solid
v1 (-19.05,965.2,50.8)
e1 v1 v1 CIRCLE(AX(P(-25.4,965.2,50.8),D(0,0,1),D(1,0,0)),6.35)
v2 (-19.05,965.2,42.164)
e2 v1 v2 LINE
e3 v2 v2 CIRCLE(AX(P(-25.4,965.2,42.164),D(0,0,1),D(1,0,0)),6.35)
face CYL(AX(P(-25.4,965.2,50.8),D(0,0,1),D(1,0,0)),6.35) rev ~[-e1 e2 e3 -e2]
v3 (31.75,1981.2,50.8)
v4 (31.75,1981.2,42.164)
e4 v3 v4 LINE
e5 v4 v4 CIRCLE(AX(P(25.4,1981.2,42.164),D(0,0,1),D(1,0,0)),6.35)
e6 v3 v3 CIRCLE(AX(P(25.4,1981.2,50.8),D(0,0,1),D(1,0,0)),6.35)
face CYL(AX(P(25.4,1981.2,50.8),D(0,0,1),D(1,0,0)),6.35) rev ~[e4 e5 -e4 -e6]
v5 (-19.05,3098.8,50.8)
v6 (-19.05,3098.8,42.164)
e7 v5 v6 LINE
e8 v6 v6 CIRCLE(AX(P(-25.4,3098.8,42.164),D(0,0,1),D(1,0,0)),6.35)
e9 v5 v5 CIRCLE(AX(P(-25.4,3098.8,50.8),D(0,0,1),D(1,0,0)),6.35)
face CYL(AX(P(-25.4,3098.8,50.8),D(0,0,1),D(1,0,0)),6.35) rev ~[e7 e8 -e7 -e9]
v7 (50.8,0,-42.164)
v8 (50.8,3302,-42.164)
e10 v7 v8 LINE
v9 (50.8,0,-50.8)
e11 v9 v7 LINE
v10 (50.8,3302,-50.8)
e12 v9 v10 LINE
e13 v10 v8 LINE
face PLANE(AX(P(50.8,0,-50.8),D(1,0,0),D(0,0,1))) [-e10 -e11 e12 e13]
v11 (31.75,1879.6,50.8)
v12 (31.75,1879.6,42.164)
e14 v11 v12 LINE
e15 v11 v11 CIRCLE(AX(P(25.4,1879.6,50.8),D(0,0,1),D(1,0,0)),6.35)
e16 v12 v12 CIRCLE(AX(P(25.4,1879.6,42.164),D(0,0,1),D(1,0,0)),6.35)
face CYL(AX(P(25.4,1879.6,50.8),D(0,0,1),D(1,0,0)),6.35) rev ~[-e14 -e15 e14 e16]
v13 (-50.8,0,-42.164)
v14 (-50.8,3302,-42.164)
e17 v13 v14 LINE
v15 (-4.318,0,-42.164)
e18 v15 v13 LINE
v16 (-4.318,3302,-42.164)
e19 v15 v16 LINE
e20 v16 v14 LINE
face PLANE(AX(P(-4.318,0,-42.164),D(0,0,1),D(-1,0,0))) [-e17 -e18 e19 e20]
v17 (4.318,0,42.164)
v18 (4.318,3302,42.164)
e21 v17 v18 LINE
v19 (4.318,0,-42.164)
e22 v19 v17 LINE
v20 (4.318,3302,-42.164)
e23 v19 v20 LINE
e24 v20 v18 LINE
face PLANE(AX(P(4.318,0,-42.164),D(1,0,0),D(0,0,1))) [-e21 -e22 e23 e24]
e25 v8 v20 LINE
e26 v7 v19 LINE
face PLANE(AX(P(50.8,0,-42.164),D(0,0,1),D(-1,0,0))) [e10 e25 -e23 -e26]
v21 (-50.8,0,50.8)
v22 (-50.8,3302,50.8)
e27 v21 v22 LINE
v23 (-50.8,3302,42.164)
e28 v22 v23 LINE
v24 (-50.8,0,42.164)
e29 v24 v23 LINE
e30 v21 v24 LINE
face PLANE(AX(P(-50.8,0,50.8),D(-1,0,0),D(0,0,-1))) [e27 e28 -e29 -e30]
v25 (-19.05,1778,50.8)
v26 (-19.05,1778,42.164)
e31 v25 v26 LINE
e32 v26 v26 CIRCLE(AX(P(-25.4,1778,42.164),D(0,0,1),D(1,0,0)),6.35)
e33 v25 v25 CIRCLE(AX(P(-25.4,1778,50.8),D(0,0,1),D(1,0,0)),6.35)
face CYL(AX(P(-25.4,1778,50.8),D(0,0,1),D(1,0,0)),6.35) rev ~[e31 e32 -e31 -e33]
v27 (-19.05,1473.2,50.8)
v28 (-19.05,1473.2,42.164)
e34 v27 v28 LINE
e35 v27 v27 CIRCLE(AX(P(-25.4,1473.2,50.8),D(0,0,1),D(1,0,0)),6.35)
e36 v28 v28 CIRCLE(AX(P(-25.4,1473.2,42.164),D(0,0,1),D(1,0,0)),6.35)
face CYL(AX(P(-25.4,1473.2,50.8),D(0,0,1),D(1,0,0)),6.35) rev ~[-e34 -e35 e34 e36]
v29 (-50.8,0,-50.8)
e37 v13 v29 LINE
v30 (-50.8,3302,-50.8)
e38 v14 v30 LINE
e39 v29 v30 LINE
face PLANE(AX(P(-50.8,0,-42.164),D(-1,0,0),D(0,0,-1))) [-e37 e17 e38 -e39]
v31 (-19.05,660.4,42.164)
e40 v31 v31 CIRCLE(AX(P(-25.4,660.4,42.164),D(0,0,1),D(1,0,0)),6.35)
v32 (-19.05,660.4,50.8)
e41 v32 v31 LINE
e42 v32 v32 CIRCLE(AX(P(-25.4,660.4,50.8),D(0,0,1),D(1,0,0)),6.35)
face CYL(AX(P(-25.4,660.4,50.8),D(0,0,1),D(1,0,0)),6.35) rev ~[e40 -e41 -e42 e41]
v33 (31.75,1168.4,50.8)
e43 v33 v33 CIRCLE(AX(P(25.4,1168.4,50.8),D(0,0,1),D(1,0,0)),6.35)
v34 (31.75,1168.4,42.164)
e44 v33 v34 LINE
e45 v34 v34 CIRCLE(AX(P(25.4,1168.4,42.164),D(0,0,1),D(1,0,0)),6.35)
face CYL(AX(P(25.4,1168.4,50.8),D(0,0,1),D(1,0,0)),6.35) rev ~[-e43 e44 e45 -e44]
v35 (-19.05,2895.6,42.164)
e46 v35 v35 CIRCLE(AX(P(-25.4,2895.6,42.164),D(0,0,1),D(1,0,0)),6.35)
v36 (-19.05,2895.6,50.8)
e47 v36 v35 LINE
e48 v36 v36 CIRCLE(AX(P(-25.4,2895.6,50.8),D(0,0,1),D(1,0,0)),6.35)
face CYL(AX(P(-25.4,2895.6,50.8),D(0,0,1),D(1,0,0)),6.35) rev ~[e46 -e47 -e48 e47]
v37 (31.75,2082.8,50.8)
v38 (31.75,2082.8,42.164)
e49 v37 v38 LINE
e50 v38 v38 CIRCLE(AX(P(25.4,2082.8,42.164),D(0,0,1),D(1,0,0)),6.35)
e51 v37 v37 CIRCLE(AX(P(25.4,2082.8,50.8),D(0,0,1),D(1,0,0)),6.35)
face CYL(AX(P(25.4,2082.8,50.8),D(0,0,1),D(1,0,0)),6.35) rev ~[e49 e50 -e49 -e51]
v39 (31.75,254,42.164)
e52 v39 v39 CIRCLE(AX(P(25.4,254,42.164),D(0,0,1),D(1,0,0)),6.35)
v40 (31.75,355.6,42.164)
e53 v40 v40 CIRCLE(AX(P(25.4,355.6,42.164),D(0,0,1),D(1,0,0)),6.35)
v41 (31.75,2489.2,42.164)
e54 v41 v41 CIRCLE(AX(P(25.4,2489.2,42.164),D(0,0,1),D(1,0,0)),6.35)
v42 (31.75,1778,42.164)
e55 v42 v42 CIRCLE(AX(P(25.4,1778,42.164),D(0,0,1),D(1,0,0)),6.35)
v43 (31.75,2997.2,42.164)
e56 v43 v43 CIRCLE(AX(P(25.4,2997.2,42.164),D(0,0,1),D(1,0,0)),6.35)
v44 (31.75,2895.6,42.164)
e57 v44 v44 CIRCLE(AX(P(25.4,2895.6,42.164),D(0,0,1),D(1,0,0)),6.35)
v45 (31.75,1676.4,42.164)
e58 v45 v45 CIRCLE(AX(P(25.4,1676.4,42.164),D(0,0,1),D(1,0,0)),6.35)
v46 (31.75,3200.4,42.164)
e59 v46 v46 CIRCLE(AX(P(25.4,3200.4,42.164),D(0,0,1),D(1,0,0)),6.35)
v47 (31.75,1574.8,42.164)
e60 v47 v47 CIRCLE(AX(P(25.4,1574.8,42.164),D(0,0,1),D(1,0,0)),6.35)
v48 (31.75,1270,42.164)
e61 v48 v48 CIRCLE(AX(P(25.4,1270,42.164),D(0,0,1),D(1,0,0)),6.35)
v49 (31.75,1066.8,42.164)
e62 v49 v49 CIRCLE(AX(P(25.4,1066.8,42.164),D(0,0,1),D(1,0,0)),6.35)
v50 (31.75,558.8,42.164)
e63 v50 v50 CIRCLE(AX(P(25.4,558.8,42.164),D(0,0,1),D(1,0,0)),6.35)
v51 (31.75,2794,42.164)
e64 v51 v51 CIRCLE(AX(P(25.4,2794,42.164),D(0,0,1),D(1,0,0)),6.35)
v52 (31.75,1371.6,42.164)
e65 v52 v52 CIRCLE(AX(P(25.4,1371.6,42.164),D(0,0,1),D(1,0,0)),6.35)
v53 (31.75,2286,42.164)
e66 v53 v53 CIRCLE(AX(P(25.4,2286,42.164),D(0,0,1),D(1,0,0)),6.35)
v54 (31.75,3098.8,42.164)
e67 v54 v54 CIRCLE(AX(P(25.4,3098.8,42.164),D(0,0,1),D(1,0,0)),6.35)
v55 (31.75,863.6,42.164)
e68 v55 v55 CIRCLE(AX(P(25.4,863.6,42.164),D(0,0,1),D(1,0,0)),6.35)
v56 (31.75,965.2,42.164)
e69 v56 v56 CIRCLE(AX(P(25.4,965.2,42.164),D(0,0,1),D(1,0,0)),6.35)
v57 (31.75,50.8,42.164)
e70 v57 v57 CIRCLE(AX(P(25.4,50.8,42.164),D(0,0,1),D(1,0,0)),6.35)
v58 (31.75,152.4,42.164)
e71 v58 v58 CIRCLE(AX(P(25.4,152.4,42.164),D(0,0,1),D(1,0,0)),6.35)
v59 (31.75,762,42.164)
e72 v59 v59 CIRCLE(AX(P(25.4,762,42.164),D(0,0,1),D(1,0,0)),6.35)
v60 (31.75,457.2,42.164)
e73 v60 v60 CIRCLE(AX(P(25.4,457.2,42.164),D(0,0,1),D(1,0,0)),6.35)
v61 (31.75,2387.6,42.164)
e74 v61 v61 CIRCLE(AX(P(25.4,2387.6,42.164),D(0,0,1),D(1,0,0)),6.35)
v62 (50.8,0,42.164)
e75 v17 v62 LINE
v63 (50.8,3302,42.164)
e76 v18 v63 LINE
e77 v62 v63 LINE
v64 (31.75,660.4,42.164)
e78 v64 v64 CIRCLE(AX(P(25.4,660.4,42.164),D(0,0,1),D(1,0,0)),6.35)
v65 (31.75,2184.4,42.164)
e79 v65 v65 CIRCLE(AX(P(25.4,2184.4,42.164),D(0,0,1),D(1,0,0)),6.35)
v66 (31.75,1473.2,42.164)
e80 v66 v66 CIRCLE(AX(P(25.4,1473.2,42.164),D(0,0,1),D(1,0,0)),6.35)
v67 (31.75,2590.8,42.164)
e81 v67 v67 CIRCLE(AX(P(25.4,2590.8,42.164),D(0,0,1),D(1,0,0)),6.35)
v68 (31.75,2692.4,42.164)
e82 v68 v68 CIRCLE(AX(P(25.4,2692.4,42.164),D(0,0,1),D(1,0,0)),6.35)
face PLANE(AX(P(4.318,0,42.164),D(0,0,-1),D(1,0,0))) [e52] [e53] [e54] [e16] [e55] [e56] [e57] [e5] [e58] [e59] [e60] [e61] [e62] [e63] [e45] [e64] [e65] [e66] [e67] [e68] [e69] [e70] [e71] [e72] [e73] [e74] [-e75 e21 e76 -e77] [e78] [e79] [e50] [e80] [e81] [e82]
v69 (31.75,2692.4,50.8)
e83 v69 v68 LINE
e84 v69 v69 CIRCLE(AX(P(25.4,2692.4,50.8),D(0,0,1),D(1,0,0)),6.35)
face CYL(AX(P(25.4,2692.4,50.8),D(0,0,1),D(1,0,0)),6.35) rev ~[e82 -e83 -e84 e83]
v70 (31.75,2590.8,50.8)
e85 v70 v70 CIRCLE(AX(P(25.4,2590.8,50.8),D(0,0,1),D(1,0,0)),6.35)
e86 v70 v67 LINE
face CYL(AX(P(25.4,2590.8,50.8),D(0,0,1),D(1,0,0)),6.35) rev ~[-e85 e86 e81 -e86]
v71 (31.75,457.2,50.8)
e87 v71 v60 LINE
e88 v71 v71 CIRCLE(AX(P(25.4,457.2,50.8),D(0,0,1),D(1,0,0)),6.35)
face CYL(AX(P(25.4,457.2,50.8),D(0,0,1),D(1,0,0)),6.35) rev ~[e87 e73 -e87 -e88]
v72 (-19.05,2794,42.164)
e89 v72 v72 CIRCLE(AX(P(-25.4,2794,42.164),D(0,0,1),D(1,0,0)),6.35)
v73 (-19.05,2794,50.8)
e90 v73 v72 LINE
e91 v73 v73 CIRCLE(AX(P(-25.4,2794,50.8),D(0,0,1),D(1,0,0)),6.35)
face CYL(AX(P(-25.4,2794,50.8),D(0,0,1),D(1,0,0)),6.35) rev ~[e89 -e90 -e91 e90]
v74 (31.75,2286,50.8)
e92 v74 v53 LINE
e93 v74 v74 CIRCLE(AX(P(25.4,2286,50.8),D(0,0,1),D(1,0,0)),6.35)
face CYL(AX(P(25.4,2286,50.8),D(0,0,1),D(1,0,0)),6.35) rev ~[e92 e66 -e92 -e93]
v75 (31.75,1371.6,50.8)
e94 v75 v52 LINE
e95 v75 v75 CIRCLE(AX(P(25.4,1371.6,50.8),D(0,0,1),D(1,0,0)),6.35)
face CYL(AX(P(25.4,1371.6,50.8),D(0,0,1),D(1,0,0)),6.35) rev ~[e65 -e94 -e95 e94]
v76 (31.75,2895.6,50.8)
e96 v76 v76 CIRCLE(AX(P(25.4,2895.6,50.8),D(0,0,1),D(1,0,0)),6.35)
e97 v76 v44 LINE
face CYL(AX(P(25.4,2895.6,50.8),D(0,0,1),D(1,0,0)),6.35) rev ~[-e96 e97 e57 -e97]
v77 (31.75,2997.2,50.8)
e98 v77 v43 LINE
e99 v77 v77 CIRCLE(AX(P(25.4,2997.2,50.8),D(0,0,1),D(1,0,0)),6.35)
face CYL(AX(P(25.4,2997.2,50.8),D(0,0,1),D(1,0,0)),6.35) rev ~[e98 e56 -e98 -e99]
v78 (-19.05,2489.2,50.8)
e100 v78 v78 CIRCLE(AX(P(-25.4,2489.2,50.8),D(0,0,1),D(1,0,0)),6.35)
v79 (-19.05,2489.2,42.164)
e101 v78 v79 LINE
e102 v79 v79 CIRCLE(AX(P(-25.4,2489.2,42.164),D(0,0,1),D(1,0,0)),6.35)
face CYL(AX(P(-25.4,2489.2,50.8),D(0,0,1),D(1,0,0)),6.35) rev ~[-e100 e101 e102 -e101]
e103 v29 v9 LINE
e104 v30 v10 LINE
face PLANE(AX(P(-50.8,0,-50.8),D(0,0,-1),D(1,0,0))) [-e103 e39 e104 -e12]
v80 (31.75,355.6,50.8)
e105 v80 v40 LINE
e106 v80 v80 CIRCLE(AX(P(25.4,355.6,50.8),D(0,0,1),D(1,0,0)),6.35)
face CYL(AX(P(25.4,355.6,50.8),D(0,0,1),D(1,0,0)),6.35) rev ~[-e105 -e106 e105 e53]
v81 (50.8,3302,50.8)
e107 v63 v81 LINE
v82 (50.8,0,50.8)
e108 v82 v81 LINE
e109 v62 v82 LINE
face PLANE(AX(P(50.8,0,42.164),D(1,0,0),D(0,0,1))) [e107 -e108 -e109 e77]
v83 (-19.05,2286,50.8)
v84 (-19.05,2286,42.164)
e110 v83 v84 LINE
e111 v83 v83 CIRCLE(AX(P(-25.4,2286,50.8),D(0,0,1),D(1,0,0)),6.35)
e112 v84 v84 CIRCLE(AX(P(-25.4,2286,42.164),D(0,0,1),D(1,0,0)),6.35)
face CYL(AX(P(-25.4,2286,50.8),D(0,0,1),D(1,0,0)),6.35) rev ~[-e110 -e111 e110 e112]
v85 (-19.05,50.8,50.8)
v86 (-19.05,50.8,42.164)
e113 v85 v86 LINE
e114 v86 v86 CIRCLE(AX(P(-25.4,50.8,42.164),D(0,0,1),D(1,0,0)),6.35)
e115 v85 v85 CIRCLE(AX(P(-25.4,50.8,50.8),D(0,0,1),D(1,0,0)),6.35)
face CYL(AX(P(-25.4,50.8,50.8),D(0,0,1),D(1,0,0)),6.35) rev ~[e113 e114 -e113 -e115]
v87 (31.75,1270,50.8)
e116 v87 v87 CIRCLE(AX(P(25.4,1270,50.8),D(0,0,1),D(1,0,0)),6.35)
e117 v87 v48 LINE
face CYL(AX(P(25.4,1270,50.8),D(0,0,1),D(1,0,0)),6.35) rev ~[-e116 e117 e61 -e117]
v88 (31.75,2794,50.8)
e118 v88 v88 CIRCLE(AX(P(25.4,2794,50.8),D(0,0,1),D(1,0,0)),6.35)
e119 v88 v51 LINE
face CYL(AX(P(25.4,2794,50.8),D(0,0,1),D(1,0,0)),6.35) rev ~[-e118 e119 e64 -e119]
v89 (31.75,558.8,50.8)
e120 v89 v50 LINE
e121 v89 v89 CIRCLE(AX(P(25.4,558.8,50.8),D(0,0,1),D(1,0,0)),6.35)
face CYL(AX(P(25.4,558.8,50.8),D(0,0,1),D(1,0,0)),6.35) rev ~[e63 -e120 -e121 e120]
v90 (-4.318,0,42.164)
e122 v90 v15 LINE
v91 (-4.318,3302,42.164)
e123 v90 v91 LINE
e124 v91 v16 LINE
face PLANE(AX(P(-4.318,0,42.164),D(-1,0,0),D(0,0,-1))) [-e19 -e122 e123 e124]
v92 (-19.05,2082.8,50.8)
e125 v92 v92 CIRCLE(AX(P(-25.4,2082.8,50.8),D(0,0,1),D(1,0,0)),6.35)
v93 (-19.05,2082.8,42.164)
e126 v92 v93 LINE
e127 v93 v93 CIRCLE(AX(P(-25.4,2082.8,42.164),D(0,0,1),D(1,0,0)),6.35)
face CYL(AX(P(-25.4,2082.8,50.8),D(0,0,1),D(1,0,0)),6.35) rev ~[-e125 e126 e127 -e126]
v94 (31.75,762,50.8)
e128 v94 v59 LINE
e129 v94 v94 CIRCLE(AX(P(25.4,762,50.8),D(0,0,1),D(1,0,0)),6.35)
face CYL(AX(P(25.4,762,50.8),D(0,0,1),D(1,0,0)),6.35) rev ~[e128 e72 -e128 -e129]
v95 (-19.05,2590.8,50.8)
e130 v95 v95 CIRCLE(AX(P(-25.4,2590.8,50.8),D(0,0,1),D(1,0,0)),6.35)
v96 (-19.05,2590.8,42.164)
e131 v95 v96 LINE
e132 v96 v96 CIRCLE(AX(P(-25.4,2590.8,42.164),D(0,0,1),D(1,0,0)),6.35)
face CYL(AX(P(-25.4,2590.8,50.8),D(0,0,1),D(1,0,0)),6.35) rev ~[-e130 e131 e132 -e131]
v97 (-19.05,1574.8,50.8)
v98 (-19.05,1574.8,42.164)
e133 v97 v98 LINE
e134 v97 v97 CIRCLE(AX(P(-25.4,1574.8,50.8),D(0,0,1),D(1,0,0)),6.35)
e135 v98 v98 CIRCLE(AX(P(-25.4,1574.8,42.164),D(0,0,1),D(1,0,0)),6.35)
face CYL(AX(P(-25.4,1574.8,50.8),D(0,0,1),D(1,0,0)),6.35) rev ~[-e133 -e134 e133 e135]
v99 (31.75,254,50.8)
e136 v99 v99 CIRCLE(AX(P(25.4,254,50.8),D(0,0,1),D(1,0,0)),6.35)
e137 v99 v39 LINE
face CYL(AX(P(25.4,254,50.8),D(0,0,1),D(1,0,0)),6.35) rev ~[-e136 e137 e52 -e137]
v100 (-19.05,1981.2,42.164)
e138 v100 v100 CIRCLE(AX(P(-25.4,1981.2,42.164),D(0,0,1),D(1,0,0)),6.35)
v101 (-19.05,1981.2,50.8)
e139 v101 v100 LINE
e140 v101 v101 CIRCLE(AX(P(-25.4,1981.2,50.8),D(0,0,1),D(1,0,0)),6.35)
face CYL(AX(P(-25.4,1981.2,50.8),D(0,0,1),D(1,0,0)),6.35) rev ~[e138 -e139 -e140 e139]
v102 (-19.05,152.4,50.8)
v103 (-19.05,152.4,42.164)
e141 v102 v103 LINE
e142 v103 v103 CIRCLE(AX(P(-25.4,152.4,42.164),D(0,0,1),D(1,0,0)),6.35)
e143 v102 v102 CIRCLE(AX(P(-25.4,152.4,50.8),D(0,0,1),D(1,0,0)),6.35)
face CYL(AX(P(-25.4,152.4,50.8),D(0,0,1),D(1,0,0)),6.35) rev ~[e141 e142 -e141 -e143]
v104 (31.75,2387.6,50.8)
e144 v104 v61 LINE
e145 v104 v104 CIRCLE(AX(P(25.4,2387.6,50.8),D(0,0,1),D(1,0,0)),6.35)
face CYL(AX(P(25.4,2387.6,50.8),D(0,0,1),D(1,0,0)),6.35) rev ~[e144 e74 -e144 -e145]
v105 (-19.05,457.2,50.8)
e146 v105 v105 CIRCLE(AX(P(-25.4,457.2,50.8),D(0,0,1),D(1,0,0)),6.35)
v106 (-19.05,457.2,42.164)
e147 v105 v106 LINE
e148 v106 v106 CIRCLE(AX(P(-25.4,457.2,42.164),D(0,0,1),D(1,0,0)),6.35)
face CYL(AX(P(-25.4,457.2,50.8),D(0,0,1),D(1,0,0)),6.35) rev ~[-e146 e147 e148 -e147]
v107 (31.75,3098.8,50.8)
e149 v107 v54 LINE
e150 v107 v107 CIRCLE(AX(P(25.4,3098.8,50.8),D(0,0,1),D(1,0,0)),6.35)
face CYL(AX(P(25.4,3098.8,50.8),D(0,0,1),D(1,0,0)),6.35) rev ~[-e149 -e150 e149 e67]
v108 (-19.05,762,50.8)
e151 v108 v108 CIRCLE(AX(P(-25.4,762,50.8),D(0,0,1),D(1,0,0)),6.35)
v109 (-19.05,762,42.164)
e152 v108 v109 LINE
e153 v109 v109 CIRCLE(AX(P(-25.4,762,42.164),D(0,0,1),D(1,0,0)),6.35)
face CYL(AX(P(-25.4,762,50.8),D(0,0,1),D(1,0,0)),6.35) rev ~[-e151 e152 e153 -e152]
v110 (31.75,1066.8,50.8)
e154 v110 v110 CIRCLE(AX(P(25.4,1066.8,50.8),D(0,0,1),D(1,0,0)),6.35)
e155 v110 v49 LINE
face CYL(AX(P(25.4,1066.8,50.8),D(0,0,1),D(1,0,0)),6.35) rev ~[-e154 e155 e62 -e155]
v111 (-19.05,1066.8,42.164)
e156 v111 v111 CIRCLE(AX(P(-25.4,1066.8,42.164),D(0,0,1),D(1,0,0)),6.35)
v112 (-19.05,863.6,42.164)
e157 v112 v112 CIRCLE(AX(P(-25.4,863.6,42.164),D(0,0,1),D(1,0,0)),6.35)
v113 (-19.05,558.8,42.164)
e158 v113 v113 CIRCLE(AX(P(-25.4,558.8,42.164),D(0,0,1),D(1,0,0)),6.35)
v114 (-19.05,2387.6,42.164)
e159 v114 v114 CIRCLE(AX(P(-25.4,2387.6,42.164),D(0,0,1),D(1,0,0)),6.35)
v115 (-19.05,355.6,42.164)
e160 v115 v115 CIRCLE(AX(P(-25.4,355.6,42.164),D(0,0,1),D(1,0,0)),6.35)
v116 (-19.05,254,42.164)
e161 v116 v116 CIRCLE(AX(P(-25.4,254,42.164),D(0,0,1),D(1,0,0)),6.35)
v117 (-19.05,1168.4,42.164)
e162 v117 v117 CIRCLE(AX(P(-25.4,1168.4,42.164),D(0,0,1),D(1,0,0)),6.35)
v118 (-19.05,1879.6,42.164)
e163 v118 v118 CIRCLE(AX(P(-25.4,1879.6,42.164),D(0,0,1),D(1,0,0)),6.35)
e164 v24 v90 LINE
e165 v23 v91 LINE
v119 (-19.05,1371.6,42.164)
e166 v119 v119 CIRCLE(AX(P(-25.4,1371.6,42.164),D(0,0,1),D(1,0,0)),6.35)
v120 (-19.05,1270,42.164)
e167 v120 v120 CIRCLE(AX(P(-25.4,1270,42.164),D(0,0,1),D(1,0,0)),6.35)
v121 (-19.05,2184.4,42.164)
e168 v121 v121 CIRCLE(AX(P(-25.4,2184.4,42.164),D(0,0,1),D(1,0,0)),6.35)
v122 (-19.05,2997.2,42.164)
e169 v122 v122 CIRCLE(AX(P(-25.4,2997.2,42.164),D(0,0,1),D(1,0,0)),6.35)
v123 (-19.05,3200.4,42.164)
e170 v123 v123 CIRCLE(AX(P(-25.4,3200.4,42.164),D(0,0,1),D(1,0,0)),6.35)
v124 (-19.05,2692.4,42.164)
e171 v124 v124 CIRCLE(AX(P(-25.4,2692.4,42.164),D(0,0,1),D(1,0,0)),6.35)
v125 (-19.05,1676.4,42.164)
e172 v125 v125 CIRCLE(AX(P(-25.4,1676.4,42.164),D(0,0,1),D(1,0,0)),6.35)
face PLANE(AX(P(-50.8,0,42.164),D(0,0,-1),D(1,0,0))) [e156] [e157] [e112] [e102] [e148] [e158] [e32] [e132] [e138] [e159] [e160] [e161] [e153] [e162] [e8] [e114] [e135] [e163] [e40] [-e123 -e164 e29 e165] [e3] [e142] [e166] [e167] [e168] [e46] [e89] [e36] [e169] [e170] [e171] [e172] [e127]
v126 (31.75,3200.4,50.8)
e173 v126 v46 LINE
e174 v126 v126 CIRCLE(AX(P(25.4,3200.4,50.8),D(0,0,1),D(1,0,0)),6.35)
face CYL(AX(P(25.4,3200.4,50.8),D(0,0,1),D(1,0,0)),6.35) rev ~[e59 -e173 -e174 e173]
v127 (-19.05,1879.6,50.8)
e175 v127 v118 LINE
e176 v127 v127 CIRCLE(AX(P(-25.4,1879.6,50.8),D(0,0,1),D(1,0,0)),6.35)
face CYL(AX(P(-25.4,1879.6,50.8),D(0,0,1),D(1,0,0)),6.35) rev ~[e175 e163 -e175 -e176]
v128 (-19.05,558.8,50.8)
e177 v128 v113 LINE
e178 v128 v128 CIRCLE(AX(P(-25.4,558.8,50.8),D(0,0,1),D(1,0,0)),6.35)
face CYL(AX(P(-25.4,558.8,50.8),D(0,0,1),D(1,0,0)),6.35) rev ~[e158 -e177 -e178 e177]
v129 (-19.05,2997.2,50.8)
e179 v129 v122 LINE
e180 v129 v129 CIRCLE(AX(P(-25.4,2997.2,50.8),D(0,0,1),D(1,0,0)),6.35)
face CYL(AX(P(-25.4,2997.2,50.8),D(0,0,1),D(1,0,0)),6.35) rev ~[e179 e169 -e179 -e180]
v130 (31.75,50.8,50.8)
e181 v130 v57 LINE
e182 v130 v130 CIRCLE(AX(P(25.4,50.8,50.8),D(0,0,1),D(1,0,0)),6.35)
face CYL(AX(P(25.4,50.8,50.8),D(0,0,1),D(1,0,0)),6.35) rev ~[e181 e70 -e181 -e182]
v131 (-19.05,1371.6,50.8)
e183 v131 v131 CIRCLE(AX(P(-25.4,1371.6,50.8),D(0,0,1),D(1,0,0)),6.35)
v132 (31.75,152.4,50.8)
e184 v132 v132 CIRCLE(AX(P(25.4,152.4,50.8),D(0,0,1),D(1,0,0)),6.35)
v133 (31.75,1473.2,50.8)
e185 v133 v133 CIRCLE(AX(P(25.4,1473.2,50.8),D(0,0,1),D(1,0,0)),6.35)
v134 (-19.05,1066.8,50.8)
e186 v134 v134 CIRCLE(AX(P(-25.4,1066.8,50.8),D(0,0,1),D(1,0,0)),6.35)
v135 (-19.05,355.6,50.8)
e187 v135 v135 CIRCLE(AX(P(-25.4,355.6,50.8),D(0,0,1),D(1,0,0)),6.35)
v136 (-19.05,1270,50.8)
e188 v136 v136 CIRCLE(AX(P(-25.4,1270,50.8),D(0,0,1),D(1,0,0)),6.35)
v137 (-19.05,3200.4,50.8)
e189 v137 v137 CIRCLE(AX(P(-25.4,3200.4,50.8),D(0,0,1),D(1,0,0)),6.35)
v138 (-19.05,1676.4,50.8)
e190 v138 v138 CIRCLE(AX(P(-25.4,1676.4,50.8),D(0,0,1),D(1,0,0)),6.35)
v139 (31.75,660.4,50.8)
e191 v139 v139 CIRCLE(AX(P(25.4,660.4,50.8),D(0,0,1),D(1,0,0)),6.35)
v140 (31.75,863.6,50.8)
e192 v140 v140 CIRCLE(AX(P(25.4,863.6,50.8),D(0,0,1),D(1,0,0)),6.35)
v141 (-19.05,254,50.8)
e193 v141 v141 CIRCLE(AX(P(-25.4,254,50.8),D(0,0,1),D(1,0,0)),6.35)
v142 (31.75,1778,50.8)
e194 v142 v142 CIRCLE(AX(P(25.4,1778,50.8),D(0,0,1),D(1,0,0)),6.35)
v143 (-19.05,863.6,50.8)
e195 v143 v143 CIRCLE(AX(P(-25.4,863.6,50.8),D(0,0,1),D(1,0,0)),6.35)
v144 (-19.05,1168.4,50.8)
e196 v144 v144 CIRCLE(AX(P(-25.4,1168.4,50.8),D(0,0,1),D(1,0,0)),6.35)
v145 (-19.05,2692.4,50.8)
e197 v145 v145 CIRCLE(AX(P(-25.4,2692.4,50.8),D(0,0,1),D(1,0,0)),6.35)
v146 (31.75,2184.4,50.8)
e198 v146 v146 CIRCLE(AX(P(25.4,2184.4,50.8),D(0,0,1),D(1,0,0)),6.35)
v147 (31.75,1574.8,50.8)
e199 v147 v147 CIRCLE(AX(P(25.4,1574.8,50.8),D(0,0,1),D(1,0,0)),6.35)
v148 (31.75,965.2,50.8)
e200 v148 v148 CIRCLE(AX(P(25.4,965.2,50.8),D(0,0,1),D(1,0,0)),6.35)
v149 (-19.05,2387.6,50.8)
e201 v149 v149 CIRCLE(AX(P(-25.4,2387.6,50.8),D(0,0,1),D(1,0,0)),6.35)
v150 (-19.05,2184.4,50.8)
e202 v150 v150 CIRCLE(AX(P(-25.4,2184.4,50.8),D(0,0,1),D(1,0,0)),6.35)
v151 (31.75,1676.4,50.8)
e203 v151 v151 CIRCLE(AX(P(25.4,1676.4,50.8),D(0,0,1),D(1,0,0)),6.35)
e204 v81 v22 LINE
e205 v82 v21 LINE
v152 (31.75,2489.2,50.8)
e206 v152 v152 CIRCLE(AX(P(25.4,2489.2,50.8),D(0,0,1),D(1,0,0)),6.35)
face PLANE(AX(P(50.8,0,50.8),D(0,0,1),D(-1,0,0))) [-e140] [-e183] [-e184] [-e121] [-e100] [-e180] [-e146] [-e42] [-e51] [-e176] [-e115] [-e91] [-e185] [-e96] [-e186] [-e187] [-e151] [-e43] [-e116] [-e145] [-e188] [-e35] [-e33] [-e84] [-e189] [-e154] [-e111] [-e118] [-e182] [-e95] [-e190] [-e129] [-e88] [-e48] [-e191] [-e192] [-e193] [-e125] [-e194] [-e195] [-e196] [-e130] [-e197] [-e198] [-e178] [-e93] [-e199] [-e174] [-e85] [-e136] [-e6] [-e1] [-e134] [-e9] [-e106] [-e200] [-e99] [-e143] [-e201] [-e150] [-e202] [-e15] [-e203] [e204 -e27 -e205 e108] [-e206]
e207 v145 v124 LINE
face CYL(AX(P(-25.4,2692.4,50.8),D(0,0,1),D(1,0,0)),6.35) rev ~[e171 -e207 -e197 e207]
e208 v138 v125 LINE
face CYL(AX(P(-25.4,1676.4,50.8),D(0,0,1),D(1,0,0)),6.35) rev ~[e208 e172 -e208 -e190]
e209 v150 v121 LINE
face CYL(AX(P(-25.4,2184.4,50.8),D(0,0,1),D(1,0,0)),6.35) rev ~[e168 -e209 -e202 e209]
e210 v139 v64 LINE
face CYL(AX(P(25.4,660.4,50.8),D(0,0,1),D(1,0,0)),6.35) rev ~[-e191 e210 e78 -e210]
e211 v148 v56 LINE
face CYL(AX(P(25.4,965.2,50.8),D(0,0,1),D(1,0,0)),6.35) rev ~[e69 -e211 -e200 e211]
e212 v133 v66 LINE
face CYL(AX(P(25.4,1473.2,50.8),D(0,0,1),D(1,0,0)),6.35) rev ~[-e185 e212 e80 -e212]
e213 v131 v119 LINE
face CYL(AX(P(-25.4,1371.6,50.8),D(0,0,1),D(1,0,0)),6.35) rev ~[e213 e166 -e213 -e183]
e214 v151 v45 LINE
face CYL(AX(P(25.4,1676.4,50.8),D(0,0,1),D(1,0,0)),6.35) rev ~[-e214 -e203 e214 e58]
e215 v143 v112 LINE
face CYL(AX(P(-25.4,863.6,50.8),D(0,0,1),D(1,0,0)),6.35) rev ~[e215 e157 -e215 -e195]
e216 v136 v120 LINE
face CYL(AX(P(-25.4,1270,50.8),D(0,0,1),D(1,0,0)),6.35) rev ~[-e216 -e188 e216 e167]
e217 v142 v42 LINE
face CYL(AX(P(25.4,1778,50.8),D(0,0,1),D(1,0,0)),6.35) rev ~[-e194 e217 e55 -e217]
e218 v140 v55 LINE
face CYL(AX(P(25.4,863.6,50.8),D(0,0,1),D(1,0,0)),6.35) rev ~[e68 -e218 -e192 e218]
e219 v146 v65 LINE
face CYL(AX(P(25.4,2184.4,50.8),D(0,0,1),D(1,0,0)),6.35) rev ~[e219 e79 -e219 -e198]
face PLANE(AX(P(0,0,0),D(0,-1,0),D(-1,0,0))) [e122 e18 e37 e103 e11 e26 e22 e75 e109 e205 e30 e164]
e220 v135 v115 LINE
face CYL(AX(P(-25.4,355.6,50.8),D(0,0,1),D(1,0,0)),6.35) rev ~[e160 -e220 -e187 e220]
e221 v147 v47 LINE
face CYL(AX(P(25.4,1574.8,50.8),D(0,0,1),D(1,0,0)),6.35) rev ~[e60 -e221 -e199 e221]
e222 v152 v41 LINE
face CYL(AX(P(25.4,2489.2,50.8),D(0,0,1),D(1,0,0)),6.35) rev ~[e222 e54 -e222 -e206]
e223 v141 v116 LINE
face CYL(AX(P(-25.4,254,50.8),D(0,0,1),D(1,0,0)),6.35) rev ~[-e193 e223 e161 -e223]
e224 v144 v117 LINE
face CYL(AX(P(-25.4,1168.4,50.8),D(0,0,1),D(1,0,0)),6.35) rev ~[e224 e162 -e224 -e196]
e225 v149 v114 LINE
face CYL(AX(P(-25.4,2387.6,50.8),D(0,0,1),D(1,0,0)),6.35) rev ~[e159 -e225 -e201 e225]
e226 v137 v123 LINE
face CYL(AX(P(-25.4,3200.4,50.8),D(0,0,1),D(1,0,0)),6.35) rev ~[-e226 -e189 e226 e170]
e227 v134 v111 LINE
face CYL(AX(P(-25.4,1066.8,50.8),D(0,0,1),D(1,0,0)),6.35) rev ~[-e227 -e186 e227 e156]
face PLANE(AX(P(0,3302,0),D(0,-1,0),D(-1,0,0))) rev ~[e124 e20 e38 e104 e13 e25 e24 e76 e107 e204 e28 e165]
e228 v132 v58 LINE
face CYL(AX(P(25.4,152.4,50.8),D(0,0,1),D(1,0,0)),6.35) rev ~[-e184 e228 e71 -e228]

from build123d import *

# Parameters (mm, degrees)
BOSS_EXTRUDE1_DEPTH = 3302
SKETCH2_R           = 6.35
CUT_EXTRUDE1_DEPTH  = 8.636
LPATTERN1_COUNT     = 32
LPATTERN1_PITCH     = 101.6


with BuildPart() as part:
    # Sketch1 → Boss-Extrude1 (new body)
    with BuildSketch(Plane(origin=(0, 0, 0), x_dir=(1, 0, 0), z_dir=(0, 1, 0))):
        Polygon((-4.318, -42.164), (-4.318, 42.164), (-50.8, 42.164), (-50.8, 50.8), (50.8, 50.8), (50.8, 42.164), (4.318, 42.164), (4.318, -42.164), (50.8, -42.164), (50.8, -50.8), (-50.8, -50.8), (-50.8, -42.164), align=None)
    extrude(amount=BOSS_EXTRUDE1_DEPTH)

    # Sketch2 → Cut-Extrude1 (cut)
    with BuildSketch(Plane.XY.offset(50.8)):
        with Locations((-25.4, 50.8)):
            Circle(SKETCH2_R)
        with Locations((25.4, 50.8)):
            Circle(SKETCH2_R)
    cut_extrude1 = extrude(amount=-CUT_EXTRUDE1_DEPTH, mode=Mode.SUBTRACT)

    # LPattern1: Cut-Extrude1 ×32
    with Locations(*[(0, i * LPATTERN1_PITCH, 0) for i in range(1, LPATTERN1_COUNT)]):
        add(cut_extrude1, mode=Mode.SUBTRACT)


solid = part.part
